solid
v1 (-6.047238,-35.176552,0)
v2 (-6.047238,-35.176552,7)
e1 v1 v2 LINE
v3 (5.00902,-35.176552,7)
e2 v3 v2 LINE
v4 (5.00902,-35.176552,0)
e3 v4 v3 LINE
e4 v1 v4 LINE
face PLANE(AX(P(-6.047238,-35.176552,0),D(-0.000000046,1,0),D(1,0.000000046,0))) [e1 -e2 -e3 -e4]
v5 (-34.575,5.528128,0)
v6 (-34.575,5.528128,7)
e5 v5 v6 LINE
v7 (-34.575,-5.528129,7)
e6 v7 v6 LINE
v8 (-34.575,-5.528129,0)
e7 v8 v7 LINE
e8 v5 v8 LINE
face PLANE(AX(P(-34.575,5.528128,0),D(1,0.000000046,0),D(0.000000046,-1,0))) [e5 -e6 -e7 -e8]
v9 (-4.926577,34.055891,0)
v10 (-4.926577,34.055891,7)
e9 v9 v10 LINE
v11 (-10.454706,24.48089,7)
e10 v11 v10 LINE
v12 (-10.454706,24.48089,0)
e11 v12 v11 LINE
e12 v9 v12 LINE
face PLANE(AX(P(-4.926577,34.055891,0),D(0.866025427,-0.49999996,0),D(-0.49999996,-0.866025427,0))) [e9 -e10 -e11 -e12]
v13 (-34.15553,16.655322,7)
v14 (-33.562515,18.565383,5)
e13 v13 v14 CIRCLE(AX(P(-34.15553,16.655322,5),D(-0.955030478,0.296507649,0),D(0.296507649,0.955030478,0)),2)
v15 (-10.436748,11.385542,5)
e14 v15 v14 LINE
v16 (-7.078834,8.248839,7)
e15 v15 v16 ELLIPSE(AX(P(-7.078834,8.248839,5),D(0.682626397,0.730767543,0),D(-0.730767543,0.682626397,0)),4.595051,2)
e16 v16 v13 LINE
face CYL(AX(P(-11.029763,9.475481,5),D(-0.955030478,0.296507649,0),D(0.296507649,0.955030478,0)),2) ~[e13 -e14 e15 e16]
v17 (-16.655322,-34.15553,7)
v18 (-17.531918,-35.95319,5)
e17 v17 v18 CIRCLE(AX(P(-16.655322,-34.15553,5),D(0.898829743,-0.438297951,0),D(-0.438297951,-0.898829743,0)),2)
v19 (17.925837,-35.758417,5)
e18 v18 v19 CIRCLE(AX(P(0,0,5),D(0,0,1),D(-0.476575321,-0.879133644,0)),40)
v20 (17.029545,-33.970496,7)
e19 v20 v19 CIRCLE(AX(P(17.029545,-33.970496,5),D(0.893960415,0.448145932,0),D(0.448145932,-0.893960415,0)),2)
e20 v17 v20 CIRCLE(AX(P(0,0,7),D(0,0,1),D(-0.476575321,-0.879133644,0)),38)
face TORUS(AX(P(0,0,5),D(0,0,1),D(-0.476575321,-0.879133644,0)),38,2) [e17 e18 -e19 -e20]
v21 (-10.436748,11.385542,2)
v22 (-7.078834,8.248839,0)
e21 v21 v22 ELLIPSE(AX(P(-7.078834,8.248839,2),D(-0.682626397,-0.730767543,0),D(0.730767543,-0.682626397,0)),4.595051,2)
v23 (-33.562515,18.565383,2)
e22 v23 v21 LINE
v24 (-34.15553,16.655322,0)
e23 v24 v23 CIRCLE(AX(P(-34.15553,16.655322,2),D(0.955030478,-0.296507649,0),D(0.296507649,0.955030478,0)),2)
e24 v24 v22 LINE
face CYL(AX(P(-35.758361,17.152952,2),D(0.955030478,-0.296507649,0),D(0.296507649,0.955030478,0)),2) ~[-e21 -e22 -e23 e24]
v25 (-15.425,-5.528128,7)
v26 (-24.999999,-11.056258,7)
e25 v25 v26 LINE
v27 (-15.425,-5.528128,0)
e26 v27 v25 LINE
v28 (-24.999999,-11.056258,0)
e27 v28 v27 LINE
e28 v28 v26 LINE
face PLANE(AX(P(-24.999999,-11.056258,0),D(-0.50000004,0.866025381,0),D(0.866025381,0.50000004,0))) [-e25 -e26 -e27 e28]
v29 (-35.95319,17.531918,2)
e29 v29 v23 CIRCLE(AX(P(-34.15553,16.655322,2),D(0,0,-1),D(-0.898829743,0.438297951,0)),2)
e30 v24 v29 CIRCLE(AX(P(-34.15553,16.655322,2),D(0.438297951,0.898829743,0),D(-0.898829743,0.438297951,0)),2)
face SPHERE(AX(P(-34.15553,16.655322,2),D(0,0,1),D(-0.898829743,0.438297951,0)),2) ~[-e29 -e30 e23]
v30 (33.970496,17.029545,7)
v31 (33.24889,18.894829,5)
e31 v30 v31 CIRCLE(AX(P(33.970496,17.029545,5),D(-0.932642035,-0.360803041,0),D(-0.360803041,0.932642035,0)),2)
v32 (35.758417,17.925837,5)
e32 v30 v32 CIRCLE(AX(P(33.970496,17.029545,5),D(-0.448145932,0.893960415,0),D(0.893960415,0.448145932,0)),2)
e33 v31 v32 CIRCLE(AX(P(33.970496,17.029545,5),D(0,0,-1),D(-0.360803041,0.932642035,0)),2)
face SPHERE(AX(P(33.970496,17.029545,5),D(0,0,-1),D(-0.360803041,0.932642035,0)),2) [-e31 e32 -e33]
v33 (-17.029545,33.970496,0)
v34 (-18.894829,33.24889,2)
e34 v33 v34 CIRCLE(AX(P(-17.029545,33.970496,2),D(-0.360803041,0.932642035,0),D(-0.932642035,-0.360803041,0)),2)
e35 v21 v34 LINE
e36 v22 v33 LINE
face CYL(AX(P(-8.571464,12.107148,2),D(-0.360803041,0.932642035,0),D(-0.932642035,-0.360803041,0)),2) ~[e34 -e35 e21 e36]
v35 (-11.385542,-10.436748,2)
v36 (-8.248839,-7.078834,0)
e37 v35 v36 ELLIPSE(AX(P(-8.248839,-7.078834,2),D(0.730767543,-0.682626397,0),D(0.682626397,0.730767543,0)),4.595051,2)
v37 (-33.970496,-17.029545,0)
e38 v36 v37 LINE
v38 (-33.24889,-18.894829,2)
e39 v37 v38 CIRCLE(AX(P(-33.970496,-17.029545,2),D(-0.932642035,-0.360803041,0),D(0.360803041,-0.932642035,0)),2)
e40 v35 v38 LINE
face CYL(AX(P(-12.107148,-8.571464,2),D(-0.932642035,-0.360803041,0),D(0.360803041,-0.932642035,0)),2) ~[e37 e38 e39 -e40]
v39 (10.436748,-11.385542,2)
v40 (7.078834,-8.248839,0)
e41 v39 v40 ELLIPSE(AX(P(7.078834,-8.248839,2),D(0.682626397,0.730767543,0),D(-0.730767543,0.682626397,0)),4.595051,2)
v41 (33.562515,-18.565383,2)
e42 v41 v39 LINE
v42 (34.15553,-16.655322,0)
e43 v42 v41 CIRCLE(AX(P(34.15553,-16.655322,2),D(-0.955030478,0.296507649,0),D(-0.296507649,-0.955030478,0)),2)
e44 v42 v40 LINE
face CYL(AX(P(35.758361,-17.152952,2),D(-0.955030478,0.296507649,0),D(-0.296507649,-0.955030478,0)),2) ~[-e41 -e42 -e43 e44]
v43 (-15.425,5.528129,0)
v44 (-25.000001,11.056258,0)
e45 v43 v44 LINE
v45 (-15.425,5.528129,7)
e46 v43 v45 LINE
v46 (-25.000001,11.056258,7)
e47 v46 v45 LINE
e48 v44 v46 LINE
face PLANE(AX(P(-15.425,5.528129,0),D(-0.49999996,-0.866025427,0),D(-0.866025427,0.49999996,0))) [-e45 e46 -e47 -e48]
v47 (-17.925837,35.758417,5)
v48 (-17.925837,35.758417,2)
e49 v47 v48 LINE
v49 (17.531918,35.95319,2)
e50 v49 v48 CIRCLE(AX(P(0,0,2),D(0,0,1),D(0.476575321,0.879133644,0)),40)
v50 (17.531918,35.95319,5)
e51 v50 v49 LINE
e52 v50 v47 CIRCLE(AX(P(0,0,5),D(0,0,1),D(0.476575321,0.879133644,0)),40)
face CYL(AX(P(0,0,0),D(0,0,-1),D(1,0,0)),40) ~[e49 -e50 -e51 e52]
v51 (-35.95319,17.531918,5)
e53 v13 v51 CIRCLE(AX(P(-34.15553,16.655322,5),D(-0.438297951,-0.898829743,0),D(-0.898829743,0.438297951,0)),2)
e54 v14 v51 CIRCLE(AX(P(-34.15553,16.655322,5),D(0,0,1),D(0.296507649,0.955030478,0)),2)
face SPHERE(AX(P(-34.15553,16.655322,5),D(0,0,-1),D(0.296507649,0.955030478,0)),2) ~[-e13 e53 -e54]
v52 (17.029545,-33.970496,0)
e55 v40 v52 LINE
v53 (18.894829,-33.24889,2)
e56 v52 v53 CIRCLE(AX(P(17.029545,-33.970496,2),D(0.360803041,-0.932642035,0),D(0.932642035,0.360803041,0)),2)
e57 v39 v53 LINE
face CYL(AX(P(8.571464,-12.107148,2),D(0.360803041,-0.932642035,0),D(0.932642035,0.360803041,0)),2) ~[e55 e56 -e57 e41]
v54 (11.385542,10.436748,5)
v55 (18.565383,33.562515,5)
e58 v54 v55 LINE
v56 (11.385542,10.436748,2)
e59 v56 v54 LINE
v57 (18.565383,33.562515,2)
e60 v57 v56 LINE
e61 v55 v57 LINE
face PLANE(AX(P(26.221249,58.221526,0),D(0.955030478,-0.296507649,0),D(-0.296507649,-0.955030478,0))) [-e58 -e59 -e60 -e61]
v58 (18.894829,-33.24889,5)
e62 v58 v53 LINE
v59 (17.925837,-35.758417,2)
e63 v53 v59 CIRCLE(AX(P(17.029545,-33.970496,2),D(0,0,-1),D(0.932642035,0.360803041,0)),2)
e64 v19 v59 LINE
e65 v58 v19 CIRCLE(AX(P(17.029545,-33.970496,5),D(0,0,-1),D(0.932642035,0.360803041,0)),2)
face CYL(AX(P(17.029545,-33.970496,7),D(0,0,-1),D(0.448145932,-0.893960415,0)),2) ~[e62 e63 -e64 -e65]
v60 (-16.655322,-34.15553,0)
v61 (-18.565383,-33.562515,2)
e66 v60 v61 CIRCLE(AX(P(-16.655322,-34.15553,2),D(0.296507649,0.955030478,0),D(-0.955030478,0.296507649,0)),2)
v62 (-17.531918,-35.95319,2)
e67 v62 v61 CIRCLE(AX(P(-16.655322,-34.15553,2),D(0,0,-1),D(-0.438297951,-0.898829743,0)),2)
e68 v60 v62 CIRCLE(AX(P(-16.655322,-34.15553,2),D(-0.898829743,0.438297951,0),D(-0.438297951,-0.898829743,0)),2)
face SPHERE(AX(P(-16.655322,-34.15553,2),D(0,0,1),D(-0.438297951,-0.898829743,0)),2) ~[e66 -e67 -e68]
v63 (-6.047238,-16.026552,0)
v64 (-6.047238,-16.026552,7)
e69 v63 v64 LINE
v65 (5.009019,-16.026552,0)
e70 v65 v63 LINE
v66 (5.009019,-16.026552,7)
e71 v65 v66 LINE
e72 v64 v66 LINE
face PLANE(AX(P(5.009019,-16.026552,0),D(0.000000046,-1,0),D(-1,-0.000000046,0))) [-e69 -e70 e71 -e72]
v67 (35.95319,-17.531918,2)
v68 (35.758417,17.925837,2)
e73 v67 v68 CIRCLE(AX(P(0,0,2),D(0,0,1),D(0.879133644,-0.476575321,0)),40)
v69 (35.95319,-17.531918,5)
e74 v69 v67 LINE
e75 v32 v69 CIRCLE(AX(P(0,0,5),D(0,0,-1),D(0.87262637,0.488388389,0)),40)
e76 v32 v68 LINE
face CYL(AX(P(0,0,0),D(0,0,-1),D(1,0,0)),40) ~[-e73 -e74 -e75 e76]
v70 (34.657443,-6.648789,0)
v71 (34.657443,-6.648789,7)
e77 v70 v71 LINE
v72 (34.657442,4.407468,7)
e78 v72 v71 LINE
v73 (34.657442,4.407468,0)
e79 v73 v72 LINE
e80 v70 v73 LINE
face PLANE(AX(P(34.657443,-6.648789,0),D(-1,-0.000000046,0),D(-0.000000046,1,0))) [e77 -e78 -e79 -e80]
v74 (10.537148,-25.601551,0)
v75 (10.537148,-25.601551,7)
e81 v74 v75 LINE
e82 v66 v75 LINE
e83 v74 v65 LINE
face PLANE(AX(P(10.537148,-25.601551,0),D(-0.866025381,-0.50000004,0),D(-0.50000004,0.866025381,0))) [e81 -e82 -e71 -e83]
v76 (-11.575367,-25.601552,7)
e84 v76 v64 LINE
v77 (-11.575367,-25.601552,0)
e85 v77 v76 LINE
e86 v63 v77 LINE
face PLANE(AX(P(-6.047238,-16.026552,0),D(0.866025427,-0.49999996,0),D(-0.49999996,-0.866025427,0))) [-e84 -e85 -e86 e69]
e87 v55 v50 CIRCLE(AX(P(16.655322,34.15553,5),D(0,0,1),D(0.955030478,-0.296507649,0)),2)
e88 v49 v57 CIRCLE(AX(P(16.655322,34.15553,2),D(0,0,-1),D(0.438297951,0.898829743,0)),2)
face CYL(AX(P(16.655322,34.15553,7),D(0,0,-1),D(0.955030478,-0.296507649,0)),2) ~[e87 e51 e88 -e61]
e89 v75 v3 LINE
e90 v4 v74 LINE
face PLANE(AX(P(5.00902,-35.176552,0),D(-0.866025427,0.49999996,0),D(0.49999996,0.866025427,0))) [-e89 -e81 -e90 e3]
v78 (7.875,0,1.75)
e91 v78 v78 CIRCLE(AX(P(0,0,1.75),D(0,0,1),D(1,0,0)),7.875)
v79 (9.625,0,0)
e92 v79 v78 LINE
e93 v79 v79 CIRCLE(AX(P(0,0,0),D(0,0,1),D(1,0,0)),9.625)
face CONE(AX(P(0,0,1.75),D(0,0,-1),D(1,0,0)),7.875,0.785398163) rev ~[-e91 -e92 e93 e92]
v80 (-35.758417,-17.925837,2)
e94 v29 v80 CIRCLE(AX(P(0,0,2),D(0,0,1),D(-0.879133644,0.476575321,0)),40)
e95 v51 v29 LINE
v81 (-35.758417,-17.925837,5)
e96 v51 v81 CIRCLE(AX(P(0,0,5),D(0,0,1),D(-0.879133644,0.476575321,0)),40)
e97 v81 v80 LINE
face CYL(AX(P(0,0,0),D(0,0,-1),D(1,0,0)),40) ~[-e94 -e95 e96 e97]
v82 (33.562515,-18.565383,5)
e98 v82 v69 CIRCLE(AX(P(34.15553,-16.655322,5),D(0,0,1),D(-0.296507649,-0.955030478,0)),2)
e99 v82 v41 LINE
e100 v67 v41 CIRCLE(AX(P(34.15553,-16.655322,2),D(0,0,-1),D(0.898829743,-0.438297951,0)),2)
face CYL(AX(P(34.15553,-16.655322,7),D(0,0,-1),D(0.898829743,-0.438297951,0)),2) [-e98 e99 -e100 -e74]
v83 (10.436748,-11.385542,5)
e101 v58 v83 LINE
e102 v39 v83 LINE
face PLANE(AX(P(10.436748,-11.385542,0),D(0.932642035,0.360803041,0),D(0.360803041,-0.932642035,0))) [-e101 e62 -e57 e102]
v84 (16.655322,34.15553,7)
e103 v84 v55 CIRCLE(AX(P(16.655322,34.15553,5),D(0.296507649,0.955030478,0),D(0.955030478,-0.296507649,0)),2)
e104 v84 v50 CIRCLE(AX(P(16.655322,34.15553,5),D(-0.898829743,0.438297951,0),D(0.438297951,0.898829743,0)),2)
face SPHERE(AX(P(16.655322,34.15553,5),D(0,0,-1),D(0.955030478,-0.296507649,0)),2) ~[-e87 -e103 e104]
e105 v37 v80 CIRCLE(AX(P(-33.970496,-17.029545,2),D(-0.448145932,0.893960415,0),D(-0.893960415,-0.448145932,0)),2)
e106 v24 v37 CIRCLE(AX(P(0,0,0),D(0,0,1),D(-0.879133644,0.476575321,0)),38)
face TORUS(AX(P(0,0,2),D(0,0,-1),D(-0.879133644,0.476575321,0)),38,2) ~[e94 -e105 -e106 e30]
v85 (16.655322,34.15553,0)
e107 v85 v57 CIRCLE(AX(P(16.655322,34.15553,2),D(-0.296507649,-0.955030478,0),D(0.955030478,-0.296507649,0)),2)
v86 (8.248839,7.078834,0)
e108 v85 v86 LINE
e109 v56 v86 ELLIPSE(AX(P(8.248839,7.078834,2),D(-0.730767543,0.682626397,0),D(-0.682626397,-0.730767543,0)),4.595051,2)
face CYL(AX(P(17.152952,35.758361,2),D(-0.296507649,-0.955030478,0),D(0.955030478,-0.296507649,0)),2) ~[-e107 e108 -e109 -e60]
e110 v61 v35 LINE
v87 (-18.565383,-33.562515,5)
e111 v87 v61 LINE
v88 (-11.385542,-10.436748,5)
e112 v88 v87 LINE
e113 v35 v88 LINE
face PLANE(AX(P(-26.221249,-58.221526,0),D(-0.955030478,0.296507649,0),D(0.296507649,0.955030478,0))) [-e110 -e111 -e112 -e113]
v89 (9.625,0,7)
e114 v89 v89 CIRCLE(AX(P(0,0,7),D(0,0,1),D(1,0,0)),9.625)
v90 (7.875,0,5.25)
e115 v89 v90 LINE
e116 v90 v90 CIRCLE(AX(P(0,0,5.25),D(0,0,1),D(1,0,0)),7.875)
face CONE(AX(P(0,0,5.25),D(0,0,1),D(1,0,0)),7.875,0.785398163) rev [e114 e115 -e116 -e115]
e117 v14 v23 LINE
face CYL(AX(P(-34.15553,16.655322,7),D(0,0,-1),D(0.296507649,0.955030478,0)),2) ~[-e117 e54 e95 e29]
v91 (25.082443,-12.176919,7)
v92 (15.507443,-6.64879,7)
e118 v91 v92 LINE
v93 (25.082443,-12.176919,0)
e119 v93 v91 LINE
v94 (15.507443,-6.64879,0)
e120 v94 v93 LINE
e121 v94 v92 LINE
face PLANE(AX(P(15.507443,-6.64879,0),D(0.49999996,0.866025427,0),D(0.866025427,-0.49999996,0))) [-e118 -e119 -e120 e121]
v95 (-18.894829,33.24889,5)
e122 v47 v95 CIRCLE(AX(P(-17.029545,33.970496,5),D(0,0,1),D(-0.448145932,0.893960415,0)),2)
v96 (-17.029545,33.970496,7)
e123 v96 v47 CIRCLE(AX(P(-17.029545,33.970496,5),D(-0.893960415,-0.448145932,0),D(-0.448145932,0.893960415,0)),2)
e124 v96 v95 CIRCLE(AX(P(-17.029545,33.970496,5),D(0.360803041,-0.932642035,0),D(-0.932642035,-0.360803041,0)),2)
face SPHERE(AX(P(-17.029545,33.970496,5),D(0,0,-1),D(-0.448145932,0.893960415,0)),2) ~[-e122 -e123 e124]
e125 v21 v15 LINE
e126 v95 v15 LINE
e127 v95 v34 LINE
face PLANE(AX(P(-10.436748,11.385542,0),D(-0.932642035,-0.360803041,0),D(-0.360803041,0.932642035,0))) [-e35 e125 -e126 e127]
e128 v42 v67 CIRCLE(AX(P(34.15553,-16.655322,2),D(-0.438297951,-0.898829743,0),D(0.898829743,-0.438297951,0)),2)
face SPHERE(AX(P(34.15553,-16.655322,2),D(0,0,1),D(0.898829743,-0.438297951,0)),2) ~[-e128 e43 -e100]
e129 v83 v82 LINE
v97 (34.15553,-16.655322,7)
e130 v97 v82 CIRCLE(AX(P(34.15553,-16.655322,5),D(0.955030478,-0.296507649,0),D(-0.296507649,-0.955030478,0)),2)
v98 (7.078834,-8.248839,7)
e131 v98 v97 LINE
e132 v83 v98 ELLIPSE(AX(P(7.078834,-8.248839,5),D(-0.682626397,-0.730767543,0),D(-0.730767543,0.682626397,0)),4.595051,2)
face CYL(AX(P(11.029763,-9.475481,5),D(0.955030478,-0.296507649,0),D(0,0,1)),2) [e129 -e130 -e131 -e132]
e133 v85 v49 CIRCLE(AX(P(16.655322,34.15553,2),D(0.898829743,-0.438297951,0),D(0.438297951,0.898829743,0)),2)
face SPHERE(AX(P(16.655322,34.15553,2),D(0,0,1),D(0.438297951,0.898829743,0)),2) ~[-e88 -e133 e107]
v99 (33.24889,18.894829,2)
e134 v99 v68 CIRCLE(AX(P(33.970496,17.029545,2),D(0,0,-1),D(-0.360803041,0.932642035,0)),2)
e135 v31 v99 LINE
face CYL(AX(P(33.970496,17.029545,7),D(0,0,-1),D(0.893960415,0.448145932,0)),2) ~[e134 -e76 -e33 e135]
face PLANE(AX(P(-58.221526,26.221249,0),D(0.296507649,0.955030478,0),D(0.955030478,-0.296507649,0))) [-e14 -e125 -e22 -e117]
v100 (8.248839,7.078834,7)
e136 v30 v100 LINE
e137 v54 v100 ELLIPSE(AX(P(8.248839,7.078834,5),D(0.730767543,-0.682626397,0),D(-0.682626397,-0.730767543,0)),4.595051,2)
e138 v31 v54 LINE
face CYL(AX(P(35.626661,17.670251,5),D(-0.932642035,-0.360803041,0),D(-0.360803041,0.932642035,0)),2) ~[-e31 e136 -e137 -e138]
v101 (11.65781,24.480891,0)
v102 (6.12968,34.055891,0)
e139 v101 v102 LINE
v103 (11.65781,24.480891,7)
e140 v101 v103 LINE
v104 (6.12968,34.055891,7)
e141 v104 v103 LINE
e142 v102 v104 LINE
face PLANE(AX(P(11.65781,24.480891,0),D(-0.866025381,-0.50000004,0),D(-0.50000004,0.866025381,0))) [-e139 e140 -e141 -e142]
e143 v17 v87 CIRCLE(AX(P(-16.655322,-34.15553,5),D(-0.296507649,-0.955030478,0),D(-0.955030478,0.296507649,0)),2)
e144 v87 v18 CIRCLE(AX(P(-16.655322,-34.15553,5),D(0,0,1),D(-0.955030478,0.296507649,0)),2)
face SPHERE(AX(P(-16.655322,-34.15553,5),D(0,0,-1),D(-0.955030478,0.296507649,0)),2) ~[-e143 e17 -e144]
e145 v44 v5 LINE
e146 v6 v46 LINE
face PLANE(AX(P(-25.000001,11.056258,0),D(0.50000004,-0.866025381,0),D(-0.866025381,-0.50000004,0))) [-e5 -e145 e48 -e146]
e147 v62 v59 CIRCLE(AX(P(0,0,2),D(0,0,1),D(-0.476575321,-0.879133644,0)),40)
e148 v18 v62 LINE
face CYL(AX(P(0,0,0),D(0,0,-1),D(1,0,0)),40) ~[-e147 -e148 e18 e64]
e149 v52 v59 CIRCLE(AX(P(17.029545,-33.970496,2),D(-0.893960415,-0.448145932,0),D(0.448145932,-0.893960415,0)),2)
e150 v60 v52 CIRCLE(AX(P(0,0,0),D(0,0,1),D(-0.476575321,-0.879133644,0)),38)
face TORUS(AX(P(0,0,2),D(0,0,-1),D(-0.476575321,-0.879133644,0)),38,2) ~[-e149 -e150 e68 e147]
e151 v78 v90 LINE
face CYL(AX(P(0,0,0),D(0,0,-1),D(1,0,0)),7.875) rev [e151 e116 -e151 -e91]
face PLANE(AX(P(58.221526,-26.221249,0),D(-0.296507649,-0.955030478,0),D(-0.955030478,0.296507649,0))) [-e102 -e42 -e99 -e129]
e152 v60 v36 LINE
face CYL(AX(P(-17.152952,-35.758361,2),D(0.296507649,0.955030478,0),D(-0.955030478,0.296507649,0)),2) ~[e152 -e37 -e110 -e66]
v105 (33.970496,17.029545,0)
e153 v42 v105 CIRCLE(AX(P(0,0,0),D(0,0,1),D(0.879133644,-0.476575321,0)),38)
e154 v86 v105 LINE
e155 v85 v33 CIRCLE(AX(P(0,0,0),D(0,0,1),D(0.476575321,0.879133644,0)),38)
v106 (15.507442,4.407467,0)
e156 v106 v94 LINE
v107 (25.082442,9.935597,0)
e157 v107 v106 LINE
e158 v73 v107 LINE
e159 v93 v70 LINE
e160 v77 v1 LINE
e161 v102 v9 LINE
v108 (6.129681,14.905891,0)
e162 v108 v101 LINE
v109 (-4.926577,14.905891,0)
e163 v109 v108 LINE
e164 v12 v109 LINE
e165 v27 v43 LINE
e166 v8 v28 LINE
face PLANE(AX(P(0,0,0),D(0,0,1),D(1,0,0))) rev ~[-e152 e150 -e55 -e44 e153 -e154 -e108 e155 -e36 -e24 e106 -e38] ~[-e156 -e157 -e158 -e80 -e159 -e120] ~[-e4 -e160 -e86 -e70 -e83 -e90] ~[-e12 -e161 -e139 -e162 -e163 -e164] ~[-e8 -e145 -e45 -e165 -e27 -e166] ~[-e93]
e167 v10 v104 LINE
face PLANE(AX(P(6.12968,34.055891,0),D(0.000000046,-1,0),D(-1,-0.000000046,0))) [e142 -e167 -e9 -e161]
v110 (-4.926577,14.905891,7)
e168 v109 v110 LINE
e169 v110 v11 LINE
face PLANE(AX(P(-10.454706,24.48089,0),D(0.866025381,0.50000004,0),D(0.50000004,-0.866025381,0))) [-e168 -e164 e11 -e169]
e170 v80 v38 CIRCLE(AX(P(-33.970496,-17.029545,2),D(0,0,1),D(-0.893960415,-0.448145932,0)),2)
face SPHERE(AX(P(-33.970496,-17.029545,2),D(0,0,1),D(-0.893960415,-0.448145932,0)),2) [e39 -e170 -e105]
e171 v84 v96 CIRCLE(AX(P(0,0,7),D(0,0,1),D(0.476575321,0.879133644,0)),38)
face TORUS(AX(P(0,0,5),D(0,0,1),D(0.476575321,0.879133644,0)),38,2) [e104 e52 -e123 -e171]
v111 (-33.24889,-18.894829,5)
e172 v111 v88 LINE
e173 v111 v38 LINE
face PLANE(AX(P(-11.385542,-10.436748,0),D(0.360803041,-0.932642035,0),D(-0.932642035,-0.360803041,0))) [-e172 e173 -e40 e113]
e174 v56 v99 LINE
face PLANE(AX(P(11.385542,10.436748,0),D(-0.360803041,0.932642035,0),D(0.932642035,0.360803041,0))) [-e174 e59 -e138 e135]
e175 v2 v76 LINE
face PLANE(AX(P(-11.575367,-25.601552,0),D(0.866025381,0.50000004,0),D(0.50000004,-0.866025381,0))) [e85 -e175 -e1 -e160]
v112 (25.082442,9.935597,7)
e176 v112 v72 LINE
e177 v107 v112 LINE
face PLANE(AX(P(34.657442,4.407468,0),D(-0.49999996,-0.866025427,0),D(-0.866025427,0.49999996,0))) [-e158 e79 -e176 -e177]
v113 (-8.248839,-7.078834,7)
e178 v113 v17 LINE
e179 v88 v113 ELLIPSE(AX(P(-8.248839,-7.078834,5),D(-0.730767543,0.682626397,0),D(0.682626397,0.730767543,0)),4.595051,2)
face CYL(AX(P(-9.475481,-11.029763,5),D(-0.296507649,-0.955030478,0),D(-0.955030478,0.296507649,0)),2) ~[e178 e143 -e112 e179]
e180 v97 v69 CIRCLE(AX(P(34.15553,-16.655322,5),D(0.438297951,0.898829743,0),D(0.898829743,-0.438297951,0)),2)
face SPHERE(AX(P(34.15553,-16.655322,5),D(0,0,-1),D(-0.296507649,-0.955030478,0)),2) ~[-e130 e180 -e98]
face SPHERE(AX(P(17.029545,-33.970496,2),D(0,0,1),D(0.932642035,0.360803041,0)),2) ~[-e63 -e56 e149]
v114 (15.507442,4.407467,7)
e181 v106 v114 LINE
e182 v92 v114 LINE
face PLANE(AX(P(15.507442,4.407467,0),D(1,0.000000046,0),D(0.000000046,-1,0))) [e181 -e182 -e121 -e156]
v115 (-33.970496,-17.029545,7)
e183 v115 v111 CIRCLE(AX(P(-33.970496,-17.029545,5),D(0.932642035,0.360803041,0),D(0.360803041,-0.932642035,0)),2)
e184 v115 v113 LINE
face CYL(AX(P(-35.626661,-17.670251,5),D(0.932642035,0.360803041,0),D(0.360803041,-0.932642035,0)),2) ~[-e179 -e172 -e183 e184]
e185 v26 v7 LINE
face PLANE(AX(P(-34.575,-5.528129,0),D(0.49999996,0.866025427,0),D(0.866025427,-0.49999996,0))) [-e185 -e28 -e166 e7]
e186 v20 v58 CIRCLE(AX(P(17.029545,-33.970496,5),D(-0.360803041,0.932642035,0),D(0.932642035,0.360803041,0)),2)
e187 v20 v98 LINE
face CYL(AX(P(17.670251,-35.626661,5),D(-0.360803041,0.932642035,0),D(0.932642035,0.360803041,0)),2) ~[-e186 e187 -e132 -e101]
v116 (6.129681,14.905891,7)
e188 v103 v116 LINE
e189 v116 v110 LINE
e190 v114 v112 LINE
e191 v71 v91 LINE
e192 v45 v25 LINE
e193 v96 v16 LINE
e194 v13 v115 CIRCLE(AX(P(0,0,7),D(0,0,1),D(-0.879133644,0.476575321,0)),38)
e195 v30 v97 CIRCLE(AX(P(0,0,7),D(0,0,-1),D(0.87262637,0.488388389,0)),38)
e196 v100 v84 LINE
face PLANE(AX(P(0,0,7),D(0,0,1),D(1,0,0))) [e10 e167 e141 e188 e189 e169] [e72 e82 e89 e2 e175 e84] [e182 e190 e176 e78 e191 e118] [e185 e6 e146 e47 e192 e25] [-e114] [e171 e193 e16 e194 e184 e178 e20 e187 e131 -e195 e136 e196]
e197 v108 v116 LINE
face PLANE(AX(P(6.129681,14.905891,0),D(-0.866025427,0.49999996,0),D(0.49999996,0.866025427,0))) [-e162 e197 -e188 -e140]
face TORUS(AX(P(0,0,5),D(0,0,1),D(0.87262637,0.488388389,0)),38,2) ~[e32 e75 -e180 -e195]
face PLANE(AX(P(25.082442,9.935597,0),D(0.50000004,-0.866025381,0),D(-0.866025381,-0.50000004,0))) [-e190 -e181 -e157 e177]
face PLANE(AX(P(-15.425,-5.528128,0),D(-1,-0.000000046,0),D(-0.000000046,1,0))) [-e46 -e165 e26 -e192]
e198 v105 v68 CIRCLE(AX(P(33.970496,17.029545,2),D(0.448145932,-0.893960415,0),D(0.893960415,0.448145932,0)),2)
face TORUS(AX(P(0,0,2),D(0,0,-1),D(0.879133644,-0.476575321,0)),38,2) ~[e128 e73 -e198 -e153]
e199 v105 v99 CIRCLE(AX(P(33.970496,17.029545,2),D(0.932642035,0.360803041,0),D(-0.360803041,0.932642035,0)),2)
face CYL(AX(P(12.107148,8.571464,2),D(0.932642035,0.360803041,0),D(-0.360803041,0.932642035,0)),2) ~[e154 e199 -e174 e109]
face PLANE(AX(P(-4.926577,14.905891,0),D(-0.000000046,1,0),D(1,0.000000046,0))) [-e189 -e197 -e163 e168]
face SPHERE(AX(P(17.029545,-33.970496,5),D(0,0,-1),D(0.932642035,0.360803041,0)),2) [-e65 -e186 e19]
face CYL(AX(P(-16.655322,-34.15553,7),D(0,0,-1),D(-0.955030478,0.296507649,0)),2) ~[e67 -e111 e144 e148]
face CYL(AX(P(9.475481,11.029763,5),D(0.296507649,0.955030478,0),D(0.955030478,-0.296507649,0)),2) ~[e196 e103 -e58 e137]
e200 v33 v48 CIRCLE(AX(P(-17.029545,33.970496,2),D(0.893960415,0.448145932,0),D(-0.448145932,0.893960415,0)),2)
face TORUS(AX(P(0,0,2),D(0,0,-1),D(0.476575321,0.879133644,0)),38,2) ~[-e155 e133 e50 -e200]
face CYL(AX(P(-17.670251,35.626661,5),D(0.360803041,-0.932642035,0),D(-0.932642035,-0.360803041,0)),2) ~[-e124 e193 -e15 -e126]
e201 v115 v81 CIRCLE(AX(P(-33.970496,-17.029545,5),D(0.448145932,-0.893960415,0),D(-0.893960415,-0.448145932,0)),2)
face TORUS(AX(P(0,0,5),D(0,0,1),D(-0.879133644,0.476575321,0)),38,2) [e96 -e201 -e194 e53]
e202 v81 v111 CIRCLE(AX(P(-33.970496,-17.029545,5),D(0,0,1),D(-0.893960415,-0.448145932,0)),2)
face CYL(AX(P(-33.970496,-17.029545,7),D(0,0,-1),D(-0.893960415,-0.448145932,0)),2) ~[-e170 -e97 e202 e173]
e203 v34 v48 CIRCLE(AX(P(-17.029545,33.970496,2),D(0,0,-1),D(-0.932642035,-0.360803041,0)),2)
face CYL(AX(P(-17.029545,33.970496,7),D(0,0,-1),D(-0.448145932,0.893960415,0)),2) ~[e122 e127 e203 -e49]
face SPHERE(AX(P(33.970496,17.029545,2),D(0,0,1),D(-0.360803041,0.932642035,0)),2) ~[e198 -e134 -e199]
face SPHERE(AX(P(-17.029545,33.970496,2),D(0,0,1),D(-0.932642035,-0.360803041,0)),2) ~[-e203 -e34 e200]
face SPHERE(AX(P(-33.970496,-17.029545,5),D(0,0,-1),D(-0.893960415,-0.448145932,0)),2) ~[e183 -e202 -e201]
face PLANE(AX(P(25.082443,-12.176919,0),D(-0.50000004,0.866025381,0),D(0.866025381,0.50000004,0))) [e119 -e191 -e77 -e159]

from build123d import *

# Parameters (mm, degrees)
F0_R     = 40
F0_R_2   = 7.875
F1_DEPTH = 7
F3_DEPTH = 7.001
F5_DEPTH = 7.001
F6_R     = 2
F7_SIZE  = 1.75


with BuildPart() as f1:
    # F0 (on Top) → F1 (new body)
    with BuildSketch(Plane.XY):
        Circle(F0_R)
        Circle(F0_R_2, mode=Mode.SUBTRACT)
    extrude(amount=F1_DEPTH)

    # F2 (on Top) → F3 (cut, through all)
    with BuildSketch(Plane.XY):
        Polygon((-24.9999994913, -11.056257655), (-15.4249997457, -5.528128387), (-15.4250002543, 5.528129268), (-25.0000005087, 11.056257655), (-34.5750002543, 5.528128387), (-34.5749997457, -5.528129268), align=None)
        Polygon((-6.0472384723, -16.0265521064), (-11.5753668593, -25.6015523607), (-6.0472375913, -35.1765521064), (5.0090200637, -35.1765515977), (10.5371484507, -25.6015513433), (5.0090191826, -16.0265515977), align=None)
        Polygon((15.507442902, -6.6487903244), (25.0824431564, -12.1769187113), (34.657442902, -6.6487894433), (34.6574423934, 4.4074682117), (25.082442139, 9.9355965986), (15.5074423934, 4.4074673306), align=None)
        Polygon((6.12968112, 14.90589105), (11.657809507, 24.4808913044), (6.129680239, 34.05589105), (-4.926577416, 34.0558905413), (-10.454705803, 24.480890287), (-4.9265765349, 14.9058905413), align=None)
    extrude(amount=F3_DEPTH, mode=Mode.SUBTRACT)

    # F4 (on Top) → F5 (cut, through all)
    with BuildSketch(Plane.XY):
        Polygon((-10.4367481545, 11.3855423406), (-19.5796824992, 35.0191704929), (-58.221526444, 26.2212492526), align=None)
        Polygon((-35.0191704929, -19.5796824992), (-26.2212492526, -58.221526444), (-11.3855423406, -10.4367481545), align=None)
        Polygon((19.5796824992, -35.0191704929), (58.221526444, -26.2212492526), (10.4367481545, -11.3855423406), align=None)
        Polygon((35.0191704929, 19.5796824992), (26.2212492526, 58.221526444), (11.3855423406, 10.4367481545), align=None)
    extrude(amount=F5_DEPTH, mode=Mode.SUBTRACT)

    # F6
    f6_edges = [f1.edges().sort_by_distance(p)[0] for p in [
        (-22.801047, 15.224278, 7),
        (-39.999091, -0.269736, 7),
        (-23.145299, -14.986142, 7),
        (-15.224278, -22.801047, 7),
        (14.986142, -23.145299, 7),
        (22.801047, -15.224278, 7),
        (23.145299, 14.986142, 7),
        (39.999091, 0.269736, 7),
        (15.224278, 22.801047, 7),
        (-0.269736, 39.999091, 7),
        (-14.986142, 23.145299, 7),
        (-39.999091, -0.269736, 0),
        (-22.801047, 15.224278, 0),
        (-14.986142, 23.145299, 0),
        (-0.269736, 39.999091, 0),
        (15.224278, 22.801047, 0),
        (23.145299, 14.986142, 0),
        (39.999091, 0.269736, 0),
        (22.801047, -15.224278, 0),
        (14.986142, -23.145299, 0),
        (0.269736, -39.999091, 0),
        (-15.224278, -22.801047, 0),
        (-23.145299, -14.986142, 0),
        (0.269736, -39.999091, 7),
        (19.535536, -34.905055, 3.5),
        (-19.063013, -35.165346, 3.5),
        (-34.905055, -19.535536, 3.5),
        (-35.165346, 19.063013, 3.5),
        (-19.535536, 34.905055, 3.5),
        (19.063013, 35.165346, 3.5),
        (34.905055, 19.535536, 3.5),
        (35.165346, -19.063013, 3.5),
    ]]
    fillet(f6_edges, radius=F6_R)

    # F7
    f7_edges = [f1.edges().sort_by_distance(p)[0] for p in [
        (-7.875, 0, 7),
        (-7.875, 0, 0),
    ]]
    chamfer(f7_edges, length=F7_SIZE)


solid = f1.part
